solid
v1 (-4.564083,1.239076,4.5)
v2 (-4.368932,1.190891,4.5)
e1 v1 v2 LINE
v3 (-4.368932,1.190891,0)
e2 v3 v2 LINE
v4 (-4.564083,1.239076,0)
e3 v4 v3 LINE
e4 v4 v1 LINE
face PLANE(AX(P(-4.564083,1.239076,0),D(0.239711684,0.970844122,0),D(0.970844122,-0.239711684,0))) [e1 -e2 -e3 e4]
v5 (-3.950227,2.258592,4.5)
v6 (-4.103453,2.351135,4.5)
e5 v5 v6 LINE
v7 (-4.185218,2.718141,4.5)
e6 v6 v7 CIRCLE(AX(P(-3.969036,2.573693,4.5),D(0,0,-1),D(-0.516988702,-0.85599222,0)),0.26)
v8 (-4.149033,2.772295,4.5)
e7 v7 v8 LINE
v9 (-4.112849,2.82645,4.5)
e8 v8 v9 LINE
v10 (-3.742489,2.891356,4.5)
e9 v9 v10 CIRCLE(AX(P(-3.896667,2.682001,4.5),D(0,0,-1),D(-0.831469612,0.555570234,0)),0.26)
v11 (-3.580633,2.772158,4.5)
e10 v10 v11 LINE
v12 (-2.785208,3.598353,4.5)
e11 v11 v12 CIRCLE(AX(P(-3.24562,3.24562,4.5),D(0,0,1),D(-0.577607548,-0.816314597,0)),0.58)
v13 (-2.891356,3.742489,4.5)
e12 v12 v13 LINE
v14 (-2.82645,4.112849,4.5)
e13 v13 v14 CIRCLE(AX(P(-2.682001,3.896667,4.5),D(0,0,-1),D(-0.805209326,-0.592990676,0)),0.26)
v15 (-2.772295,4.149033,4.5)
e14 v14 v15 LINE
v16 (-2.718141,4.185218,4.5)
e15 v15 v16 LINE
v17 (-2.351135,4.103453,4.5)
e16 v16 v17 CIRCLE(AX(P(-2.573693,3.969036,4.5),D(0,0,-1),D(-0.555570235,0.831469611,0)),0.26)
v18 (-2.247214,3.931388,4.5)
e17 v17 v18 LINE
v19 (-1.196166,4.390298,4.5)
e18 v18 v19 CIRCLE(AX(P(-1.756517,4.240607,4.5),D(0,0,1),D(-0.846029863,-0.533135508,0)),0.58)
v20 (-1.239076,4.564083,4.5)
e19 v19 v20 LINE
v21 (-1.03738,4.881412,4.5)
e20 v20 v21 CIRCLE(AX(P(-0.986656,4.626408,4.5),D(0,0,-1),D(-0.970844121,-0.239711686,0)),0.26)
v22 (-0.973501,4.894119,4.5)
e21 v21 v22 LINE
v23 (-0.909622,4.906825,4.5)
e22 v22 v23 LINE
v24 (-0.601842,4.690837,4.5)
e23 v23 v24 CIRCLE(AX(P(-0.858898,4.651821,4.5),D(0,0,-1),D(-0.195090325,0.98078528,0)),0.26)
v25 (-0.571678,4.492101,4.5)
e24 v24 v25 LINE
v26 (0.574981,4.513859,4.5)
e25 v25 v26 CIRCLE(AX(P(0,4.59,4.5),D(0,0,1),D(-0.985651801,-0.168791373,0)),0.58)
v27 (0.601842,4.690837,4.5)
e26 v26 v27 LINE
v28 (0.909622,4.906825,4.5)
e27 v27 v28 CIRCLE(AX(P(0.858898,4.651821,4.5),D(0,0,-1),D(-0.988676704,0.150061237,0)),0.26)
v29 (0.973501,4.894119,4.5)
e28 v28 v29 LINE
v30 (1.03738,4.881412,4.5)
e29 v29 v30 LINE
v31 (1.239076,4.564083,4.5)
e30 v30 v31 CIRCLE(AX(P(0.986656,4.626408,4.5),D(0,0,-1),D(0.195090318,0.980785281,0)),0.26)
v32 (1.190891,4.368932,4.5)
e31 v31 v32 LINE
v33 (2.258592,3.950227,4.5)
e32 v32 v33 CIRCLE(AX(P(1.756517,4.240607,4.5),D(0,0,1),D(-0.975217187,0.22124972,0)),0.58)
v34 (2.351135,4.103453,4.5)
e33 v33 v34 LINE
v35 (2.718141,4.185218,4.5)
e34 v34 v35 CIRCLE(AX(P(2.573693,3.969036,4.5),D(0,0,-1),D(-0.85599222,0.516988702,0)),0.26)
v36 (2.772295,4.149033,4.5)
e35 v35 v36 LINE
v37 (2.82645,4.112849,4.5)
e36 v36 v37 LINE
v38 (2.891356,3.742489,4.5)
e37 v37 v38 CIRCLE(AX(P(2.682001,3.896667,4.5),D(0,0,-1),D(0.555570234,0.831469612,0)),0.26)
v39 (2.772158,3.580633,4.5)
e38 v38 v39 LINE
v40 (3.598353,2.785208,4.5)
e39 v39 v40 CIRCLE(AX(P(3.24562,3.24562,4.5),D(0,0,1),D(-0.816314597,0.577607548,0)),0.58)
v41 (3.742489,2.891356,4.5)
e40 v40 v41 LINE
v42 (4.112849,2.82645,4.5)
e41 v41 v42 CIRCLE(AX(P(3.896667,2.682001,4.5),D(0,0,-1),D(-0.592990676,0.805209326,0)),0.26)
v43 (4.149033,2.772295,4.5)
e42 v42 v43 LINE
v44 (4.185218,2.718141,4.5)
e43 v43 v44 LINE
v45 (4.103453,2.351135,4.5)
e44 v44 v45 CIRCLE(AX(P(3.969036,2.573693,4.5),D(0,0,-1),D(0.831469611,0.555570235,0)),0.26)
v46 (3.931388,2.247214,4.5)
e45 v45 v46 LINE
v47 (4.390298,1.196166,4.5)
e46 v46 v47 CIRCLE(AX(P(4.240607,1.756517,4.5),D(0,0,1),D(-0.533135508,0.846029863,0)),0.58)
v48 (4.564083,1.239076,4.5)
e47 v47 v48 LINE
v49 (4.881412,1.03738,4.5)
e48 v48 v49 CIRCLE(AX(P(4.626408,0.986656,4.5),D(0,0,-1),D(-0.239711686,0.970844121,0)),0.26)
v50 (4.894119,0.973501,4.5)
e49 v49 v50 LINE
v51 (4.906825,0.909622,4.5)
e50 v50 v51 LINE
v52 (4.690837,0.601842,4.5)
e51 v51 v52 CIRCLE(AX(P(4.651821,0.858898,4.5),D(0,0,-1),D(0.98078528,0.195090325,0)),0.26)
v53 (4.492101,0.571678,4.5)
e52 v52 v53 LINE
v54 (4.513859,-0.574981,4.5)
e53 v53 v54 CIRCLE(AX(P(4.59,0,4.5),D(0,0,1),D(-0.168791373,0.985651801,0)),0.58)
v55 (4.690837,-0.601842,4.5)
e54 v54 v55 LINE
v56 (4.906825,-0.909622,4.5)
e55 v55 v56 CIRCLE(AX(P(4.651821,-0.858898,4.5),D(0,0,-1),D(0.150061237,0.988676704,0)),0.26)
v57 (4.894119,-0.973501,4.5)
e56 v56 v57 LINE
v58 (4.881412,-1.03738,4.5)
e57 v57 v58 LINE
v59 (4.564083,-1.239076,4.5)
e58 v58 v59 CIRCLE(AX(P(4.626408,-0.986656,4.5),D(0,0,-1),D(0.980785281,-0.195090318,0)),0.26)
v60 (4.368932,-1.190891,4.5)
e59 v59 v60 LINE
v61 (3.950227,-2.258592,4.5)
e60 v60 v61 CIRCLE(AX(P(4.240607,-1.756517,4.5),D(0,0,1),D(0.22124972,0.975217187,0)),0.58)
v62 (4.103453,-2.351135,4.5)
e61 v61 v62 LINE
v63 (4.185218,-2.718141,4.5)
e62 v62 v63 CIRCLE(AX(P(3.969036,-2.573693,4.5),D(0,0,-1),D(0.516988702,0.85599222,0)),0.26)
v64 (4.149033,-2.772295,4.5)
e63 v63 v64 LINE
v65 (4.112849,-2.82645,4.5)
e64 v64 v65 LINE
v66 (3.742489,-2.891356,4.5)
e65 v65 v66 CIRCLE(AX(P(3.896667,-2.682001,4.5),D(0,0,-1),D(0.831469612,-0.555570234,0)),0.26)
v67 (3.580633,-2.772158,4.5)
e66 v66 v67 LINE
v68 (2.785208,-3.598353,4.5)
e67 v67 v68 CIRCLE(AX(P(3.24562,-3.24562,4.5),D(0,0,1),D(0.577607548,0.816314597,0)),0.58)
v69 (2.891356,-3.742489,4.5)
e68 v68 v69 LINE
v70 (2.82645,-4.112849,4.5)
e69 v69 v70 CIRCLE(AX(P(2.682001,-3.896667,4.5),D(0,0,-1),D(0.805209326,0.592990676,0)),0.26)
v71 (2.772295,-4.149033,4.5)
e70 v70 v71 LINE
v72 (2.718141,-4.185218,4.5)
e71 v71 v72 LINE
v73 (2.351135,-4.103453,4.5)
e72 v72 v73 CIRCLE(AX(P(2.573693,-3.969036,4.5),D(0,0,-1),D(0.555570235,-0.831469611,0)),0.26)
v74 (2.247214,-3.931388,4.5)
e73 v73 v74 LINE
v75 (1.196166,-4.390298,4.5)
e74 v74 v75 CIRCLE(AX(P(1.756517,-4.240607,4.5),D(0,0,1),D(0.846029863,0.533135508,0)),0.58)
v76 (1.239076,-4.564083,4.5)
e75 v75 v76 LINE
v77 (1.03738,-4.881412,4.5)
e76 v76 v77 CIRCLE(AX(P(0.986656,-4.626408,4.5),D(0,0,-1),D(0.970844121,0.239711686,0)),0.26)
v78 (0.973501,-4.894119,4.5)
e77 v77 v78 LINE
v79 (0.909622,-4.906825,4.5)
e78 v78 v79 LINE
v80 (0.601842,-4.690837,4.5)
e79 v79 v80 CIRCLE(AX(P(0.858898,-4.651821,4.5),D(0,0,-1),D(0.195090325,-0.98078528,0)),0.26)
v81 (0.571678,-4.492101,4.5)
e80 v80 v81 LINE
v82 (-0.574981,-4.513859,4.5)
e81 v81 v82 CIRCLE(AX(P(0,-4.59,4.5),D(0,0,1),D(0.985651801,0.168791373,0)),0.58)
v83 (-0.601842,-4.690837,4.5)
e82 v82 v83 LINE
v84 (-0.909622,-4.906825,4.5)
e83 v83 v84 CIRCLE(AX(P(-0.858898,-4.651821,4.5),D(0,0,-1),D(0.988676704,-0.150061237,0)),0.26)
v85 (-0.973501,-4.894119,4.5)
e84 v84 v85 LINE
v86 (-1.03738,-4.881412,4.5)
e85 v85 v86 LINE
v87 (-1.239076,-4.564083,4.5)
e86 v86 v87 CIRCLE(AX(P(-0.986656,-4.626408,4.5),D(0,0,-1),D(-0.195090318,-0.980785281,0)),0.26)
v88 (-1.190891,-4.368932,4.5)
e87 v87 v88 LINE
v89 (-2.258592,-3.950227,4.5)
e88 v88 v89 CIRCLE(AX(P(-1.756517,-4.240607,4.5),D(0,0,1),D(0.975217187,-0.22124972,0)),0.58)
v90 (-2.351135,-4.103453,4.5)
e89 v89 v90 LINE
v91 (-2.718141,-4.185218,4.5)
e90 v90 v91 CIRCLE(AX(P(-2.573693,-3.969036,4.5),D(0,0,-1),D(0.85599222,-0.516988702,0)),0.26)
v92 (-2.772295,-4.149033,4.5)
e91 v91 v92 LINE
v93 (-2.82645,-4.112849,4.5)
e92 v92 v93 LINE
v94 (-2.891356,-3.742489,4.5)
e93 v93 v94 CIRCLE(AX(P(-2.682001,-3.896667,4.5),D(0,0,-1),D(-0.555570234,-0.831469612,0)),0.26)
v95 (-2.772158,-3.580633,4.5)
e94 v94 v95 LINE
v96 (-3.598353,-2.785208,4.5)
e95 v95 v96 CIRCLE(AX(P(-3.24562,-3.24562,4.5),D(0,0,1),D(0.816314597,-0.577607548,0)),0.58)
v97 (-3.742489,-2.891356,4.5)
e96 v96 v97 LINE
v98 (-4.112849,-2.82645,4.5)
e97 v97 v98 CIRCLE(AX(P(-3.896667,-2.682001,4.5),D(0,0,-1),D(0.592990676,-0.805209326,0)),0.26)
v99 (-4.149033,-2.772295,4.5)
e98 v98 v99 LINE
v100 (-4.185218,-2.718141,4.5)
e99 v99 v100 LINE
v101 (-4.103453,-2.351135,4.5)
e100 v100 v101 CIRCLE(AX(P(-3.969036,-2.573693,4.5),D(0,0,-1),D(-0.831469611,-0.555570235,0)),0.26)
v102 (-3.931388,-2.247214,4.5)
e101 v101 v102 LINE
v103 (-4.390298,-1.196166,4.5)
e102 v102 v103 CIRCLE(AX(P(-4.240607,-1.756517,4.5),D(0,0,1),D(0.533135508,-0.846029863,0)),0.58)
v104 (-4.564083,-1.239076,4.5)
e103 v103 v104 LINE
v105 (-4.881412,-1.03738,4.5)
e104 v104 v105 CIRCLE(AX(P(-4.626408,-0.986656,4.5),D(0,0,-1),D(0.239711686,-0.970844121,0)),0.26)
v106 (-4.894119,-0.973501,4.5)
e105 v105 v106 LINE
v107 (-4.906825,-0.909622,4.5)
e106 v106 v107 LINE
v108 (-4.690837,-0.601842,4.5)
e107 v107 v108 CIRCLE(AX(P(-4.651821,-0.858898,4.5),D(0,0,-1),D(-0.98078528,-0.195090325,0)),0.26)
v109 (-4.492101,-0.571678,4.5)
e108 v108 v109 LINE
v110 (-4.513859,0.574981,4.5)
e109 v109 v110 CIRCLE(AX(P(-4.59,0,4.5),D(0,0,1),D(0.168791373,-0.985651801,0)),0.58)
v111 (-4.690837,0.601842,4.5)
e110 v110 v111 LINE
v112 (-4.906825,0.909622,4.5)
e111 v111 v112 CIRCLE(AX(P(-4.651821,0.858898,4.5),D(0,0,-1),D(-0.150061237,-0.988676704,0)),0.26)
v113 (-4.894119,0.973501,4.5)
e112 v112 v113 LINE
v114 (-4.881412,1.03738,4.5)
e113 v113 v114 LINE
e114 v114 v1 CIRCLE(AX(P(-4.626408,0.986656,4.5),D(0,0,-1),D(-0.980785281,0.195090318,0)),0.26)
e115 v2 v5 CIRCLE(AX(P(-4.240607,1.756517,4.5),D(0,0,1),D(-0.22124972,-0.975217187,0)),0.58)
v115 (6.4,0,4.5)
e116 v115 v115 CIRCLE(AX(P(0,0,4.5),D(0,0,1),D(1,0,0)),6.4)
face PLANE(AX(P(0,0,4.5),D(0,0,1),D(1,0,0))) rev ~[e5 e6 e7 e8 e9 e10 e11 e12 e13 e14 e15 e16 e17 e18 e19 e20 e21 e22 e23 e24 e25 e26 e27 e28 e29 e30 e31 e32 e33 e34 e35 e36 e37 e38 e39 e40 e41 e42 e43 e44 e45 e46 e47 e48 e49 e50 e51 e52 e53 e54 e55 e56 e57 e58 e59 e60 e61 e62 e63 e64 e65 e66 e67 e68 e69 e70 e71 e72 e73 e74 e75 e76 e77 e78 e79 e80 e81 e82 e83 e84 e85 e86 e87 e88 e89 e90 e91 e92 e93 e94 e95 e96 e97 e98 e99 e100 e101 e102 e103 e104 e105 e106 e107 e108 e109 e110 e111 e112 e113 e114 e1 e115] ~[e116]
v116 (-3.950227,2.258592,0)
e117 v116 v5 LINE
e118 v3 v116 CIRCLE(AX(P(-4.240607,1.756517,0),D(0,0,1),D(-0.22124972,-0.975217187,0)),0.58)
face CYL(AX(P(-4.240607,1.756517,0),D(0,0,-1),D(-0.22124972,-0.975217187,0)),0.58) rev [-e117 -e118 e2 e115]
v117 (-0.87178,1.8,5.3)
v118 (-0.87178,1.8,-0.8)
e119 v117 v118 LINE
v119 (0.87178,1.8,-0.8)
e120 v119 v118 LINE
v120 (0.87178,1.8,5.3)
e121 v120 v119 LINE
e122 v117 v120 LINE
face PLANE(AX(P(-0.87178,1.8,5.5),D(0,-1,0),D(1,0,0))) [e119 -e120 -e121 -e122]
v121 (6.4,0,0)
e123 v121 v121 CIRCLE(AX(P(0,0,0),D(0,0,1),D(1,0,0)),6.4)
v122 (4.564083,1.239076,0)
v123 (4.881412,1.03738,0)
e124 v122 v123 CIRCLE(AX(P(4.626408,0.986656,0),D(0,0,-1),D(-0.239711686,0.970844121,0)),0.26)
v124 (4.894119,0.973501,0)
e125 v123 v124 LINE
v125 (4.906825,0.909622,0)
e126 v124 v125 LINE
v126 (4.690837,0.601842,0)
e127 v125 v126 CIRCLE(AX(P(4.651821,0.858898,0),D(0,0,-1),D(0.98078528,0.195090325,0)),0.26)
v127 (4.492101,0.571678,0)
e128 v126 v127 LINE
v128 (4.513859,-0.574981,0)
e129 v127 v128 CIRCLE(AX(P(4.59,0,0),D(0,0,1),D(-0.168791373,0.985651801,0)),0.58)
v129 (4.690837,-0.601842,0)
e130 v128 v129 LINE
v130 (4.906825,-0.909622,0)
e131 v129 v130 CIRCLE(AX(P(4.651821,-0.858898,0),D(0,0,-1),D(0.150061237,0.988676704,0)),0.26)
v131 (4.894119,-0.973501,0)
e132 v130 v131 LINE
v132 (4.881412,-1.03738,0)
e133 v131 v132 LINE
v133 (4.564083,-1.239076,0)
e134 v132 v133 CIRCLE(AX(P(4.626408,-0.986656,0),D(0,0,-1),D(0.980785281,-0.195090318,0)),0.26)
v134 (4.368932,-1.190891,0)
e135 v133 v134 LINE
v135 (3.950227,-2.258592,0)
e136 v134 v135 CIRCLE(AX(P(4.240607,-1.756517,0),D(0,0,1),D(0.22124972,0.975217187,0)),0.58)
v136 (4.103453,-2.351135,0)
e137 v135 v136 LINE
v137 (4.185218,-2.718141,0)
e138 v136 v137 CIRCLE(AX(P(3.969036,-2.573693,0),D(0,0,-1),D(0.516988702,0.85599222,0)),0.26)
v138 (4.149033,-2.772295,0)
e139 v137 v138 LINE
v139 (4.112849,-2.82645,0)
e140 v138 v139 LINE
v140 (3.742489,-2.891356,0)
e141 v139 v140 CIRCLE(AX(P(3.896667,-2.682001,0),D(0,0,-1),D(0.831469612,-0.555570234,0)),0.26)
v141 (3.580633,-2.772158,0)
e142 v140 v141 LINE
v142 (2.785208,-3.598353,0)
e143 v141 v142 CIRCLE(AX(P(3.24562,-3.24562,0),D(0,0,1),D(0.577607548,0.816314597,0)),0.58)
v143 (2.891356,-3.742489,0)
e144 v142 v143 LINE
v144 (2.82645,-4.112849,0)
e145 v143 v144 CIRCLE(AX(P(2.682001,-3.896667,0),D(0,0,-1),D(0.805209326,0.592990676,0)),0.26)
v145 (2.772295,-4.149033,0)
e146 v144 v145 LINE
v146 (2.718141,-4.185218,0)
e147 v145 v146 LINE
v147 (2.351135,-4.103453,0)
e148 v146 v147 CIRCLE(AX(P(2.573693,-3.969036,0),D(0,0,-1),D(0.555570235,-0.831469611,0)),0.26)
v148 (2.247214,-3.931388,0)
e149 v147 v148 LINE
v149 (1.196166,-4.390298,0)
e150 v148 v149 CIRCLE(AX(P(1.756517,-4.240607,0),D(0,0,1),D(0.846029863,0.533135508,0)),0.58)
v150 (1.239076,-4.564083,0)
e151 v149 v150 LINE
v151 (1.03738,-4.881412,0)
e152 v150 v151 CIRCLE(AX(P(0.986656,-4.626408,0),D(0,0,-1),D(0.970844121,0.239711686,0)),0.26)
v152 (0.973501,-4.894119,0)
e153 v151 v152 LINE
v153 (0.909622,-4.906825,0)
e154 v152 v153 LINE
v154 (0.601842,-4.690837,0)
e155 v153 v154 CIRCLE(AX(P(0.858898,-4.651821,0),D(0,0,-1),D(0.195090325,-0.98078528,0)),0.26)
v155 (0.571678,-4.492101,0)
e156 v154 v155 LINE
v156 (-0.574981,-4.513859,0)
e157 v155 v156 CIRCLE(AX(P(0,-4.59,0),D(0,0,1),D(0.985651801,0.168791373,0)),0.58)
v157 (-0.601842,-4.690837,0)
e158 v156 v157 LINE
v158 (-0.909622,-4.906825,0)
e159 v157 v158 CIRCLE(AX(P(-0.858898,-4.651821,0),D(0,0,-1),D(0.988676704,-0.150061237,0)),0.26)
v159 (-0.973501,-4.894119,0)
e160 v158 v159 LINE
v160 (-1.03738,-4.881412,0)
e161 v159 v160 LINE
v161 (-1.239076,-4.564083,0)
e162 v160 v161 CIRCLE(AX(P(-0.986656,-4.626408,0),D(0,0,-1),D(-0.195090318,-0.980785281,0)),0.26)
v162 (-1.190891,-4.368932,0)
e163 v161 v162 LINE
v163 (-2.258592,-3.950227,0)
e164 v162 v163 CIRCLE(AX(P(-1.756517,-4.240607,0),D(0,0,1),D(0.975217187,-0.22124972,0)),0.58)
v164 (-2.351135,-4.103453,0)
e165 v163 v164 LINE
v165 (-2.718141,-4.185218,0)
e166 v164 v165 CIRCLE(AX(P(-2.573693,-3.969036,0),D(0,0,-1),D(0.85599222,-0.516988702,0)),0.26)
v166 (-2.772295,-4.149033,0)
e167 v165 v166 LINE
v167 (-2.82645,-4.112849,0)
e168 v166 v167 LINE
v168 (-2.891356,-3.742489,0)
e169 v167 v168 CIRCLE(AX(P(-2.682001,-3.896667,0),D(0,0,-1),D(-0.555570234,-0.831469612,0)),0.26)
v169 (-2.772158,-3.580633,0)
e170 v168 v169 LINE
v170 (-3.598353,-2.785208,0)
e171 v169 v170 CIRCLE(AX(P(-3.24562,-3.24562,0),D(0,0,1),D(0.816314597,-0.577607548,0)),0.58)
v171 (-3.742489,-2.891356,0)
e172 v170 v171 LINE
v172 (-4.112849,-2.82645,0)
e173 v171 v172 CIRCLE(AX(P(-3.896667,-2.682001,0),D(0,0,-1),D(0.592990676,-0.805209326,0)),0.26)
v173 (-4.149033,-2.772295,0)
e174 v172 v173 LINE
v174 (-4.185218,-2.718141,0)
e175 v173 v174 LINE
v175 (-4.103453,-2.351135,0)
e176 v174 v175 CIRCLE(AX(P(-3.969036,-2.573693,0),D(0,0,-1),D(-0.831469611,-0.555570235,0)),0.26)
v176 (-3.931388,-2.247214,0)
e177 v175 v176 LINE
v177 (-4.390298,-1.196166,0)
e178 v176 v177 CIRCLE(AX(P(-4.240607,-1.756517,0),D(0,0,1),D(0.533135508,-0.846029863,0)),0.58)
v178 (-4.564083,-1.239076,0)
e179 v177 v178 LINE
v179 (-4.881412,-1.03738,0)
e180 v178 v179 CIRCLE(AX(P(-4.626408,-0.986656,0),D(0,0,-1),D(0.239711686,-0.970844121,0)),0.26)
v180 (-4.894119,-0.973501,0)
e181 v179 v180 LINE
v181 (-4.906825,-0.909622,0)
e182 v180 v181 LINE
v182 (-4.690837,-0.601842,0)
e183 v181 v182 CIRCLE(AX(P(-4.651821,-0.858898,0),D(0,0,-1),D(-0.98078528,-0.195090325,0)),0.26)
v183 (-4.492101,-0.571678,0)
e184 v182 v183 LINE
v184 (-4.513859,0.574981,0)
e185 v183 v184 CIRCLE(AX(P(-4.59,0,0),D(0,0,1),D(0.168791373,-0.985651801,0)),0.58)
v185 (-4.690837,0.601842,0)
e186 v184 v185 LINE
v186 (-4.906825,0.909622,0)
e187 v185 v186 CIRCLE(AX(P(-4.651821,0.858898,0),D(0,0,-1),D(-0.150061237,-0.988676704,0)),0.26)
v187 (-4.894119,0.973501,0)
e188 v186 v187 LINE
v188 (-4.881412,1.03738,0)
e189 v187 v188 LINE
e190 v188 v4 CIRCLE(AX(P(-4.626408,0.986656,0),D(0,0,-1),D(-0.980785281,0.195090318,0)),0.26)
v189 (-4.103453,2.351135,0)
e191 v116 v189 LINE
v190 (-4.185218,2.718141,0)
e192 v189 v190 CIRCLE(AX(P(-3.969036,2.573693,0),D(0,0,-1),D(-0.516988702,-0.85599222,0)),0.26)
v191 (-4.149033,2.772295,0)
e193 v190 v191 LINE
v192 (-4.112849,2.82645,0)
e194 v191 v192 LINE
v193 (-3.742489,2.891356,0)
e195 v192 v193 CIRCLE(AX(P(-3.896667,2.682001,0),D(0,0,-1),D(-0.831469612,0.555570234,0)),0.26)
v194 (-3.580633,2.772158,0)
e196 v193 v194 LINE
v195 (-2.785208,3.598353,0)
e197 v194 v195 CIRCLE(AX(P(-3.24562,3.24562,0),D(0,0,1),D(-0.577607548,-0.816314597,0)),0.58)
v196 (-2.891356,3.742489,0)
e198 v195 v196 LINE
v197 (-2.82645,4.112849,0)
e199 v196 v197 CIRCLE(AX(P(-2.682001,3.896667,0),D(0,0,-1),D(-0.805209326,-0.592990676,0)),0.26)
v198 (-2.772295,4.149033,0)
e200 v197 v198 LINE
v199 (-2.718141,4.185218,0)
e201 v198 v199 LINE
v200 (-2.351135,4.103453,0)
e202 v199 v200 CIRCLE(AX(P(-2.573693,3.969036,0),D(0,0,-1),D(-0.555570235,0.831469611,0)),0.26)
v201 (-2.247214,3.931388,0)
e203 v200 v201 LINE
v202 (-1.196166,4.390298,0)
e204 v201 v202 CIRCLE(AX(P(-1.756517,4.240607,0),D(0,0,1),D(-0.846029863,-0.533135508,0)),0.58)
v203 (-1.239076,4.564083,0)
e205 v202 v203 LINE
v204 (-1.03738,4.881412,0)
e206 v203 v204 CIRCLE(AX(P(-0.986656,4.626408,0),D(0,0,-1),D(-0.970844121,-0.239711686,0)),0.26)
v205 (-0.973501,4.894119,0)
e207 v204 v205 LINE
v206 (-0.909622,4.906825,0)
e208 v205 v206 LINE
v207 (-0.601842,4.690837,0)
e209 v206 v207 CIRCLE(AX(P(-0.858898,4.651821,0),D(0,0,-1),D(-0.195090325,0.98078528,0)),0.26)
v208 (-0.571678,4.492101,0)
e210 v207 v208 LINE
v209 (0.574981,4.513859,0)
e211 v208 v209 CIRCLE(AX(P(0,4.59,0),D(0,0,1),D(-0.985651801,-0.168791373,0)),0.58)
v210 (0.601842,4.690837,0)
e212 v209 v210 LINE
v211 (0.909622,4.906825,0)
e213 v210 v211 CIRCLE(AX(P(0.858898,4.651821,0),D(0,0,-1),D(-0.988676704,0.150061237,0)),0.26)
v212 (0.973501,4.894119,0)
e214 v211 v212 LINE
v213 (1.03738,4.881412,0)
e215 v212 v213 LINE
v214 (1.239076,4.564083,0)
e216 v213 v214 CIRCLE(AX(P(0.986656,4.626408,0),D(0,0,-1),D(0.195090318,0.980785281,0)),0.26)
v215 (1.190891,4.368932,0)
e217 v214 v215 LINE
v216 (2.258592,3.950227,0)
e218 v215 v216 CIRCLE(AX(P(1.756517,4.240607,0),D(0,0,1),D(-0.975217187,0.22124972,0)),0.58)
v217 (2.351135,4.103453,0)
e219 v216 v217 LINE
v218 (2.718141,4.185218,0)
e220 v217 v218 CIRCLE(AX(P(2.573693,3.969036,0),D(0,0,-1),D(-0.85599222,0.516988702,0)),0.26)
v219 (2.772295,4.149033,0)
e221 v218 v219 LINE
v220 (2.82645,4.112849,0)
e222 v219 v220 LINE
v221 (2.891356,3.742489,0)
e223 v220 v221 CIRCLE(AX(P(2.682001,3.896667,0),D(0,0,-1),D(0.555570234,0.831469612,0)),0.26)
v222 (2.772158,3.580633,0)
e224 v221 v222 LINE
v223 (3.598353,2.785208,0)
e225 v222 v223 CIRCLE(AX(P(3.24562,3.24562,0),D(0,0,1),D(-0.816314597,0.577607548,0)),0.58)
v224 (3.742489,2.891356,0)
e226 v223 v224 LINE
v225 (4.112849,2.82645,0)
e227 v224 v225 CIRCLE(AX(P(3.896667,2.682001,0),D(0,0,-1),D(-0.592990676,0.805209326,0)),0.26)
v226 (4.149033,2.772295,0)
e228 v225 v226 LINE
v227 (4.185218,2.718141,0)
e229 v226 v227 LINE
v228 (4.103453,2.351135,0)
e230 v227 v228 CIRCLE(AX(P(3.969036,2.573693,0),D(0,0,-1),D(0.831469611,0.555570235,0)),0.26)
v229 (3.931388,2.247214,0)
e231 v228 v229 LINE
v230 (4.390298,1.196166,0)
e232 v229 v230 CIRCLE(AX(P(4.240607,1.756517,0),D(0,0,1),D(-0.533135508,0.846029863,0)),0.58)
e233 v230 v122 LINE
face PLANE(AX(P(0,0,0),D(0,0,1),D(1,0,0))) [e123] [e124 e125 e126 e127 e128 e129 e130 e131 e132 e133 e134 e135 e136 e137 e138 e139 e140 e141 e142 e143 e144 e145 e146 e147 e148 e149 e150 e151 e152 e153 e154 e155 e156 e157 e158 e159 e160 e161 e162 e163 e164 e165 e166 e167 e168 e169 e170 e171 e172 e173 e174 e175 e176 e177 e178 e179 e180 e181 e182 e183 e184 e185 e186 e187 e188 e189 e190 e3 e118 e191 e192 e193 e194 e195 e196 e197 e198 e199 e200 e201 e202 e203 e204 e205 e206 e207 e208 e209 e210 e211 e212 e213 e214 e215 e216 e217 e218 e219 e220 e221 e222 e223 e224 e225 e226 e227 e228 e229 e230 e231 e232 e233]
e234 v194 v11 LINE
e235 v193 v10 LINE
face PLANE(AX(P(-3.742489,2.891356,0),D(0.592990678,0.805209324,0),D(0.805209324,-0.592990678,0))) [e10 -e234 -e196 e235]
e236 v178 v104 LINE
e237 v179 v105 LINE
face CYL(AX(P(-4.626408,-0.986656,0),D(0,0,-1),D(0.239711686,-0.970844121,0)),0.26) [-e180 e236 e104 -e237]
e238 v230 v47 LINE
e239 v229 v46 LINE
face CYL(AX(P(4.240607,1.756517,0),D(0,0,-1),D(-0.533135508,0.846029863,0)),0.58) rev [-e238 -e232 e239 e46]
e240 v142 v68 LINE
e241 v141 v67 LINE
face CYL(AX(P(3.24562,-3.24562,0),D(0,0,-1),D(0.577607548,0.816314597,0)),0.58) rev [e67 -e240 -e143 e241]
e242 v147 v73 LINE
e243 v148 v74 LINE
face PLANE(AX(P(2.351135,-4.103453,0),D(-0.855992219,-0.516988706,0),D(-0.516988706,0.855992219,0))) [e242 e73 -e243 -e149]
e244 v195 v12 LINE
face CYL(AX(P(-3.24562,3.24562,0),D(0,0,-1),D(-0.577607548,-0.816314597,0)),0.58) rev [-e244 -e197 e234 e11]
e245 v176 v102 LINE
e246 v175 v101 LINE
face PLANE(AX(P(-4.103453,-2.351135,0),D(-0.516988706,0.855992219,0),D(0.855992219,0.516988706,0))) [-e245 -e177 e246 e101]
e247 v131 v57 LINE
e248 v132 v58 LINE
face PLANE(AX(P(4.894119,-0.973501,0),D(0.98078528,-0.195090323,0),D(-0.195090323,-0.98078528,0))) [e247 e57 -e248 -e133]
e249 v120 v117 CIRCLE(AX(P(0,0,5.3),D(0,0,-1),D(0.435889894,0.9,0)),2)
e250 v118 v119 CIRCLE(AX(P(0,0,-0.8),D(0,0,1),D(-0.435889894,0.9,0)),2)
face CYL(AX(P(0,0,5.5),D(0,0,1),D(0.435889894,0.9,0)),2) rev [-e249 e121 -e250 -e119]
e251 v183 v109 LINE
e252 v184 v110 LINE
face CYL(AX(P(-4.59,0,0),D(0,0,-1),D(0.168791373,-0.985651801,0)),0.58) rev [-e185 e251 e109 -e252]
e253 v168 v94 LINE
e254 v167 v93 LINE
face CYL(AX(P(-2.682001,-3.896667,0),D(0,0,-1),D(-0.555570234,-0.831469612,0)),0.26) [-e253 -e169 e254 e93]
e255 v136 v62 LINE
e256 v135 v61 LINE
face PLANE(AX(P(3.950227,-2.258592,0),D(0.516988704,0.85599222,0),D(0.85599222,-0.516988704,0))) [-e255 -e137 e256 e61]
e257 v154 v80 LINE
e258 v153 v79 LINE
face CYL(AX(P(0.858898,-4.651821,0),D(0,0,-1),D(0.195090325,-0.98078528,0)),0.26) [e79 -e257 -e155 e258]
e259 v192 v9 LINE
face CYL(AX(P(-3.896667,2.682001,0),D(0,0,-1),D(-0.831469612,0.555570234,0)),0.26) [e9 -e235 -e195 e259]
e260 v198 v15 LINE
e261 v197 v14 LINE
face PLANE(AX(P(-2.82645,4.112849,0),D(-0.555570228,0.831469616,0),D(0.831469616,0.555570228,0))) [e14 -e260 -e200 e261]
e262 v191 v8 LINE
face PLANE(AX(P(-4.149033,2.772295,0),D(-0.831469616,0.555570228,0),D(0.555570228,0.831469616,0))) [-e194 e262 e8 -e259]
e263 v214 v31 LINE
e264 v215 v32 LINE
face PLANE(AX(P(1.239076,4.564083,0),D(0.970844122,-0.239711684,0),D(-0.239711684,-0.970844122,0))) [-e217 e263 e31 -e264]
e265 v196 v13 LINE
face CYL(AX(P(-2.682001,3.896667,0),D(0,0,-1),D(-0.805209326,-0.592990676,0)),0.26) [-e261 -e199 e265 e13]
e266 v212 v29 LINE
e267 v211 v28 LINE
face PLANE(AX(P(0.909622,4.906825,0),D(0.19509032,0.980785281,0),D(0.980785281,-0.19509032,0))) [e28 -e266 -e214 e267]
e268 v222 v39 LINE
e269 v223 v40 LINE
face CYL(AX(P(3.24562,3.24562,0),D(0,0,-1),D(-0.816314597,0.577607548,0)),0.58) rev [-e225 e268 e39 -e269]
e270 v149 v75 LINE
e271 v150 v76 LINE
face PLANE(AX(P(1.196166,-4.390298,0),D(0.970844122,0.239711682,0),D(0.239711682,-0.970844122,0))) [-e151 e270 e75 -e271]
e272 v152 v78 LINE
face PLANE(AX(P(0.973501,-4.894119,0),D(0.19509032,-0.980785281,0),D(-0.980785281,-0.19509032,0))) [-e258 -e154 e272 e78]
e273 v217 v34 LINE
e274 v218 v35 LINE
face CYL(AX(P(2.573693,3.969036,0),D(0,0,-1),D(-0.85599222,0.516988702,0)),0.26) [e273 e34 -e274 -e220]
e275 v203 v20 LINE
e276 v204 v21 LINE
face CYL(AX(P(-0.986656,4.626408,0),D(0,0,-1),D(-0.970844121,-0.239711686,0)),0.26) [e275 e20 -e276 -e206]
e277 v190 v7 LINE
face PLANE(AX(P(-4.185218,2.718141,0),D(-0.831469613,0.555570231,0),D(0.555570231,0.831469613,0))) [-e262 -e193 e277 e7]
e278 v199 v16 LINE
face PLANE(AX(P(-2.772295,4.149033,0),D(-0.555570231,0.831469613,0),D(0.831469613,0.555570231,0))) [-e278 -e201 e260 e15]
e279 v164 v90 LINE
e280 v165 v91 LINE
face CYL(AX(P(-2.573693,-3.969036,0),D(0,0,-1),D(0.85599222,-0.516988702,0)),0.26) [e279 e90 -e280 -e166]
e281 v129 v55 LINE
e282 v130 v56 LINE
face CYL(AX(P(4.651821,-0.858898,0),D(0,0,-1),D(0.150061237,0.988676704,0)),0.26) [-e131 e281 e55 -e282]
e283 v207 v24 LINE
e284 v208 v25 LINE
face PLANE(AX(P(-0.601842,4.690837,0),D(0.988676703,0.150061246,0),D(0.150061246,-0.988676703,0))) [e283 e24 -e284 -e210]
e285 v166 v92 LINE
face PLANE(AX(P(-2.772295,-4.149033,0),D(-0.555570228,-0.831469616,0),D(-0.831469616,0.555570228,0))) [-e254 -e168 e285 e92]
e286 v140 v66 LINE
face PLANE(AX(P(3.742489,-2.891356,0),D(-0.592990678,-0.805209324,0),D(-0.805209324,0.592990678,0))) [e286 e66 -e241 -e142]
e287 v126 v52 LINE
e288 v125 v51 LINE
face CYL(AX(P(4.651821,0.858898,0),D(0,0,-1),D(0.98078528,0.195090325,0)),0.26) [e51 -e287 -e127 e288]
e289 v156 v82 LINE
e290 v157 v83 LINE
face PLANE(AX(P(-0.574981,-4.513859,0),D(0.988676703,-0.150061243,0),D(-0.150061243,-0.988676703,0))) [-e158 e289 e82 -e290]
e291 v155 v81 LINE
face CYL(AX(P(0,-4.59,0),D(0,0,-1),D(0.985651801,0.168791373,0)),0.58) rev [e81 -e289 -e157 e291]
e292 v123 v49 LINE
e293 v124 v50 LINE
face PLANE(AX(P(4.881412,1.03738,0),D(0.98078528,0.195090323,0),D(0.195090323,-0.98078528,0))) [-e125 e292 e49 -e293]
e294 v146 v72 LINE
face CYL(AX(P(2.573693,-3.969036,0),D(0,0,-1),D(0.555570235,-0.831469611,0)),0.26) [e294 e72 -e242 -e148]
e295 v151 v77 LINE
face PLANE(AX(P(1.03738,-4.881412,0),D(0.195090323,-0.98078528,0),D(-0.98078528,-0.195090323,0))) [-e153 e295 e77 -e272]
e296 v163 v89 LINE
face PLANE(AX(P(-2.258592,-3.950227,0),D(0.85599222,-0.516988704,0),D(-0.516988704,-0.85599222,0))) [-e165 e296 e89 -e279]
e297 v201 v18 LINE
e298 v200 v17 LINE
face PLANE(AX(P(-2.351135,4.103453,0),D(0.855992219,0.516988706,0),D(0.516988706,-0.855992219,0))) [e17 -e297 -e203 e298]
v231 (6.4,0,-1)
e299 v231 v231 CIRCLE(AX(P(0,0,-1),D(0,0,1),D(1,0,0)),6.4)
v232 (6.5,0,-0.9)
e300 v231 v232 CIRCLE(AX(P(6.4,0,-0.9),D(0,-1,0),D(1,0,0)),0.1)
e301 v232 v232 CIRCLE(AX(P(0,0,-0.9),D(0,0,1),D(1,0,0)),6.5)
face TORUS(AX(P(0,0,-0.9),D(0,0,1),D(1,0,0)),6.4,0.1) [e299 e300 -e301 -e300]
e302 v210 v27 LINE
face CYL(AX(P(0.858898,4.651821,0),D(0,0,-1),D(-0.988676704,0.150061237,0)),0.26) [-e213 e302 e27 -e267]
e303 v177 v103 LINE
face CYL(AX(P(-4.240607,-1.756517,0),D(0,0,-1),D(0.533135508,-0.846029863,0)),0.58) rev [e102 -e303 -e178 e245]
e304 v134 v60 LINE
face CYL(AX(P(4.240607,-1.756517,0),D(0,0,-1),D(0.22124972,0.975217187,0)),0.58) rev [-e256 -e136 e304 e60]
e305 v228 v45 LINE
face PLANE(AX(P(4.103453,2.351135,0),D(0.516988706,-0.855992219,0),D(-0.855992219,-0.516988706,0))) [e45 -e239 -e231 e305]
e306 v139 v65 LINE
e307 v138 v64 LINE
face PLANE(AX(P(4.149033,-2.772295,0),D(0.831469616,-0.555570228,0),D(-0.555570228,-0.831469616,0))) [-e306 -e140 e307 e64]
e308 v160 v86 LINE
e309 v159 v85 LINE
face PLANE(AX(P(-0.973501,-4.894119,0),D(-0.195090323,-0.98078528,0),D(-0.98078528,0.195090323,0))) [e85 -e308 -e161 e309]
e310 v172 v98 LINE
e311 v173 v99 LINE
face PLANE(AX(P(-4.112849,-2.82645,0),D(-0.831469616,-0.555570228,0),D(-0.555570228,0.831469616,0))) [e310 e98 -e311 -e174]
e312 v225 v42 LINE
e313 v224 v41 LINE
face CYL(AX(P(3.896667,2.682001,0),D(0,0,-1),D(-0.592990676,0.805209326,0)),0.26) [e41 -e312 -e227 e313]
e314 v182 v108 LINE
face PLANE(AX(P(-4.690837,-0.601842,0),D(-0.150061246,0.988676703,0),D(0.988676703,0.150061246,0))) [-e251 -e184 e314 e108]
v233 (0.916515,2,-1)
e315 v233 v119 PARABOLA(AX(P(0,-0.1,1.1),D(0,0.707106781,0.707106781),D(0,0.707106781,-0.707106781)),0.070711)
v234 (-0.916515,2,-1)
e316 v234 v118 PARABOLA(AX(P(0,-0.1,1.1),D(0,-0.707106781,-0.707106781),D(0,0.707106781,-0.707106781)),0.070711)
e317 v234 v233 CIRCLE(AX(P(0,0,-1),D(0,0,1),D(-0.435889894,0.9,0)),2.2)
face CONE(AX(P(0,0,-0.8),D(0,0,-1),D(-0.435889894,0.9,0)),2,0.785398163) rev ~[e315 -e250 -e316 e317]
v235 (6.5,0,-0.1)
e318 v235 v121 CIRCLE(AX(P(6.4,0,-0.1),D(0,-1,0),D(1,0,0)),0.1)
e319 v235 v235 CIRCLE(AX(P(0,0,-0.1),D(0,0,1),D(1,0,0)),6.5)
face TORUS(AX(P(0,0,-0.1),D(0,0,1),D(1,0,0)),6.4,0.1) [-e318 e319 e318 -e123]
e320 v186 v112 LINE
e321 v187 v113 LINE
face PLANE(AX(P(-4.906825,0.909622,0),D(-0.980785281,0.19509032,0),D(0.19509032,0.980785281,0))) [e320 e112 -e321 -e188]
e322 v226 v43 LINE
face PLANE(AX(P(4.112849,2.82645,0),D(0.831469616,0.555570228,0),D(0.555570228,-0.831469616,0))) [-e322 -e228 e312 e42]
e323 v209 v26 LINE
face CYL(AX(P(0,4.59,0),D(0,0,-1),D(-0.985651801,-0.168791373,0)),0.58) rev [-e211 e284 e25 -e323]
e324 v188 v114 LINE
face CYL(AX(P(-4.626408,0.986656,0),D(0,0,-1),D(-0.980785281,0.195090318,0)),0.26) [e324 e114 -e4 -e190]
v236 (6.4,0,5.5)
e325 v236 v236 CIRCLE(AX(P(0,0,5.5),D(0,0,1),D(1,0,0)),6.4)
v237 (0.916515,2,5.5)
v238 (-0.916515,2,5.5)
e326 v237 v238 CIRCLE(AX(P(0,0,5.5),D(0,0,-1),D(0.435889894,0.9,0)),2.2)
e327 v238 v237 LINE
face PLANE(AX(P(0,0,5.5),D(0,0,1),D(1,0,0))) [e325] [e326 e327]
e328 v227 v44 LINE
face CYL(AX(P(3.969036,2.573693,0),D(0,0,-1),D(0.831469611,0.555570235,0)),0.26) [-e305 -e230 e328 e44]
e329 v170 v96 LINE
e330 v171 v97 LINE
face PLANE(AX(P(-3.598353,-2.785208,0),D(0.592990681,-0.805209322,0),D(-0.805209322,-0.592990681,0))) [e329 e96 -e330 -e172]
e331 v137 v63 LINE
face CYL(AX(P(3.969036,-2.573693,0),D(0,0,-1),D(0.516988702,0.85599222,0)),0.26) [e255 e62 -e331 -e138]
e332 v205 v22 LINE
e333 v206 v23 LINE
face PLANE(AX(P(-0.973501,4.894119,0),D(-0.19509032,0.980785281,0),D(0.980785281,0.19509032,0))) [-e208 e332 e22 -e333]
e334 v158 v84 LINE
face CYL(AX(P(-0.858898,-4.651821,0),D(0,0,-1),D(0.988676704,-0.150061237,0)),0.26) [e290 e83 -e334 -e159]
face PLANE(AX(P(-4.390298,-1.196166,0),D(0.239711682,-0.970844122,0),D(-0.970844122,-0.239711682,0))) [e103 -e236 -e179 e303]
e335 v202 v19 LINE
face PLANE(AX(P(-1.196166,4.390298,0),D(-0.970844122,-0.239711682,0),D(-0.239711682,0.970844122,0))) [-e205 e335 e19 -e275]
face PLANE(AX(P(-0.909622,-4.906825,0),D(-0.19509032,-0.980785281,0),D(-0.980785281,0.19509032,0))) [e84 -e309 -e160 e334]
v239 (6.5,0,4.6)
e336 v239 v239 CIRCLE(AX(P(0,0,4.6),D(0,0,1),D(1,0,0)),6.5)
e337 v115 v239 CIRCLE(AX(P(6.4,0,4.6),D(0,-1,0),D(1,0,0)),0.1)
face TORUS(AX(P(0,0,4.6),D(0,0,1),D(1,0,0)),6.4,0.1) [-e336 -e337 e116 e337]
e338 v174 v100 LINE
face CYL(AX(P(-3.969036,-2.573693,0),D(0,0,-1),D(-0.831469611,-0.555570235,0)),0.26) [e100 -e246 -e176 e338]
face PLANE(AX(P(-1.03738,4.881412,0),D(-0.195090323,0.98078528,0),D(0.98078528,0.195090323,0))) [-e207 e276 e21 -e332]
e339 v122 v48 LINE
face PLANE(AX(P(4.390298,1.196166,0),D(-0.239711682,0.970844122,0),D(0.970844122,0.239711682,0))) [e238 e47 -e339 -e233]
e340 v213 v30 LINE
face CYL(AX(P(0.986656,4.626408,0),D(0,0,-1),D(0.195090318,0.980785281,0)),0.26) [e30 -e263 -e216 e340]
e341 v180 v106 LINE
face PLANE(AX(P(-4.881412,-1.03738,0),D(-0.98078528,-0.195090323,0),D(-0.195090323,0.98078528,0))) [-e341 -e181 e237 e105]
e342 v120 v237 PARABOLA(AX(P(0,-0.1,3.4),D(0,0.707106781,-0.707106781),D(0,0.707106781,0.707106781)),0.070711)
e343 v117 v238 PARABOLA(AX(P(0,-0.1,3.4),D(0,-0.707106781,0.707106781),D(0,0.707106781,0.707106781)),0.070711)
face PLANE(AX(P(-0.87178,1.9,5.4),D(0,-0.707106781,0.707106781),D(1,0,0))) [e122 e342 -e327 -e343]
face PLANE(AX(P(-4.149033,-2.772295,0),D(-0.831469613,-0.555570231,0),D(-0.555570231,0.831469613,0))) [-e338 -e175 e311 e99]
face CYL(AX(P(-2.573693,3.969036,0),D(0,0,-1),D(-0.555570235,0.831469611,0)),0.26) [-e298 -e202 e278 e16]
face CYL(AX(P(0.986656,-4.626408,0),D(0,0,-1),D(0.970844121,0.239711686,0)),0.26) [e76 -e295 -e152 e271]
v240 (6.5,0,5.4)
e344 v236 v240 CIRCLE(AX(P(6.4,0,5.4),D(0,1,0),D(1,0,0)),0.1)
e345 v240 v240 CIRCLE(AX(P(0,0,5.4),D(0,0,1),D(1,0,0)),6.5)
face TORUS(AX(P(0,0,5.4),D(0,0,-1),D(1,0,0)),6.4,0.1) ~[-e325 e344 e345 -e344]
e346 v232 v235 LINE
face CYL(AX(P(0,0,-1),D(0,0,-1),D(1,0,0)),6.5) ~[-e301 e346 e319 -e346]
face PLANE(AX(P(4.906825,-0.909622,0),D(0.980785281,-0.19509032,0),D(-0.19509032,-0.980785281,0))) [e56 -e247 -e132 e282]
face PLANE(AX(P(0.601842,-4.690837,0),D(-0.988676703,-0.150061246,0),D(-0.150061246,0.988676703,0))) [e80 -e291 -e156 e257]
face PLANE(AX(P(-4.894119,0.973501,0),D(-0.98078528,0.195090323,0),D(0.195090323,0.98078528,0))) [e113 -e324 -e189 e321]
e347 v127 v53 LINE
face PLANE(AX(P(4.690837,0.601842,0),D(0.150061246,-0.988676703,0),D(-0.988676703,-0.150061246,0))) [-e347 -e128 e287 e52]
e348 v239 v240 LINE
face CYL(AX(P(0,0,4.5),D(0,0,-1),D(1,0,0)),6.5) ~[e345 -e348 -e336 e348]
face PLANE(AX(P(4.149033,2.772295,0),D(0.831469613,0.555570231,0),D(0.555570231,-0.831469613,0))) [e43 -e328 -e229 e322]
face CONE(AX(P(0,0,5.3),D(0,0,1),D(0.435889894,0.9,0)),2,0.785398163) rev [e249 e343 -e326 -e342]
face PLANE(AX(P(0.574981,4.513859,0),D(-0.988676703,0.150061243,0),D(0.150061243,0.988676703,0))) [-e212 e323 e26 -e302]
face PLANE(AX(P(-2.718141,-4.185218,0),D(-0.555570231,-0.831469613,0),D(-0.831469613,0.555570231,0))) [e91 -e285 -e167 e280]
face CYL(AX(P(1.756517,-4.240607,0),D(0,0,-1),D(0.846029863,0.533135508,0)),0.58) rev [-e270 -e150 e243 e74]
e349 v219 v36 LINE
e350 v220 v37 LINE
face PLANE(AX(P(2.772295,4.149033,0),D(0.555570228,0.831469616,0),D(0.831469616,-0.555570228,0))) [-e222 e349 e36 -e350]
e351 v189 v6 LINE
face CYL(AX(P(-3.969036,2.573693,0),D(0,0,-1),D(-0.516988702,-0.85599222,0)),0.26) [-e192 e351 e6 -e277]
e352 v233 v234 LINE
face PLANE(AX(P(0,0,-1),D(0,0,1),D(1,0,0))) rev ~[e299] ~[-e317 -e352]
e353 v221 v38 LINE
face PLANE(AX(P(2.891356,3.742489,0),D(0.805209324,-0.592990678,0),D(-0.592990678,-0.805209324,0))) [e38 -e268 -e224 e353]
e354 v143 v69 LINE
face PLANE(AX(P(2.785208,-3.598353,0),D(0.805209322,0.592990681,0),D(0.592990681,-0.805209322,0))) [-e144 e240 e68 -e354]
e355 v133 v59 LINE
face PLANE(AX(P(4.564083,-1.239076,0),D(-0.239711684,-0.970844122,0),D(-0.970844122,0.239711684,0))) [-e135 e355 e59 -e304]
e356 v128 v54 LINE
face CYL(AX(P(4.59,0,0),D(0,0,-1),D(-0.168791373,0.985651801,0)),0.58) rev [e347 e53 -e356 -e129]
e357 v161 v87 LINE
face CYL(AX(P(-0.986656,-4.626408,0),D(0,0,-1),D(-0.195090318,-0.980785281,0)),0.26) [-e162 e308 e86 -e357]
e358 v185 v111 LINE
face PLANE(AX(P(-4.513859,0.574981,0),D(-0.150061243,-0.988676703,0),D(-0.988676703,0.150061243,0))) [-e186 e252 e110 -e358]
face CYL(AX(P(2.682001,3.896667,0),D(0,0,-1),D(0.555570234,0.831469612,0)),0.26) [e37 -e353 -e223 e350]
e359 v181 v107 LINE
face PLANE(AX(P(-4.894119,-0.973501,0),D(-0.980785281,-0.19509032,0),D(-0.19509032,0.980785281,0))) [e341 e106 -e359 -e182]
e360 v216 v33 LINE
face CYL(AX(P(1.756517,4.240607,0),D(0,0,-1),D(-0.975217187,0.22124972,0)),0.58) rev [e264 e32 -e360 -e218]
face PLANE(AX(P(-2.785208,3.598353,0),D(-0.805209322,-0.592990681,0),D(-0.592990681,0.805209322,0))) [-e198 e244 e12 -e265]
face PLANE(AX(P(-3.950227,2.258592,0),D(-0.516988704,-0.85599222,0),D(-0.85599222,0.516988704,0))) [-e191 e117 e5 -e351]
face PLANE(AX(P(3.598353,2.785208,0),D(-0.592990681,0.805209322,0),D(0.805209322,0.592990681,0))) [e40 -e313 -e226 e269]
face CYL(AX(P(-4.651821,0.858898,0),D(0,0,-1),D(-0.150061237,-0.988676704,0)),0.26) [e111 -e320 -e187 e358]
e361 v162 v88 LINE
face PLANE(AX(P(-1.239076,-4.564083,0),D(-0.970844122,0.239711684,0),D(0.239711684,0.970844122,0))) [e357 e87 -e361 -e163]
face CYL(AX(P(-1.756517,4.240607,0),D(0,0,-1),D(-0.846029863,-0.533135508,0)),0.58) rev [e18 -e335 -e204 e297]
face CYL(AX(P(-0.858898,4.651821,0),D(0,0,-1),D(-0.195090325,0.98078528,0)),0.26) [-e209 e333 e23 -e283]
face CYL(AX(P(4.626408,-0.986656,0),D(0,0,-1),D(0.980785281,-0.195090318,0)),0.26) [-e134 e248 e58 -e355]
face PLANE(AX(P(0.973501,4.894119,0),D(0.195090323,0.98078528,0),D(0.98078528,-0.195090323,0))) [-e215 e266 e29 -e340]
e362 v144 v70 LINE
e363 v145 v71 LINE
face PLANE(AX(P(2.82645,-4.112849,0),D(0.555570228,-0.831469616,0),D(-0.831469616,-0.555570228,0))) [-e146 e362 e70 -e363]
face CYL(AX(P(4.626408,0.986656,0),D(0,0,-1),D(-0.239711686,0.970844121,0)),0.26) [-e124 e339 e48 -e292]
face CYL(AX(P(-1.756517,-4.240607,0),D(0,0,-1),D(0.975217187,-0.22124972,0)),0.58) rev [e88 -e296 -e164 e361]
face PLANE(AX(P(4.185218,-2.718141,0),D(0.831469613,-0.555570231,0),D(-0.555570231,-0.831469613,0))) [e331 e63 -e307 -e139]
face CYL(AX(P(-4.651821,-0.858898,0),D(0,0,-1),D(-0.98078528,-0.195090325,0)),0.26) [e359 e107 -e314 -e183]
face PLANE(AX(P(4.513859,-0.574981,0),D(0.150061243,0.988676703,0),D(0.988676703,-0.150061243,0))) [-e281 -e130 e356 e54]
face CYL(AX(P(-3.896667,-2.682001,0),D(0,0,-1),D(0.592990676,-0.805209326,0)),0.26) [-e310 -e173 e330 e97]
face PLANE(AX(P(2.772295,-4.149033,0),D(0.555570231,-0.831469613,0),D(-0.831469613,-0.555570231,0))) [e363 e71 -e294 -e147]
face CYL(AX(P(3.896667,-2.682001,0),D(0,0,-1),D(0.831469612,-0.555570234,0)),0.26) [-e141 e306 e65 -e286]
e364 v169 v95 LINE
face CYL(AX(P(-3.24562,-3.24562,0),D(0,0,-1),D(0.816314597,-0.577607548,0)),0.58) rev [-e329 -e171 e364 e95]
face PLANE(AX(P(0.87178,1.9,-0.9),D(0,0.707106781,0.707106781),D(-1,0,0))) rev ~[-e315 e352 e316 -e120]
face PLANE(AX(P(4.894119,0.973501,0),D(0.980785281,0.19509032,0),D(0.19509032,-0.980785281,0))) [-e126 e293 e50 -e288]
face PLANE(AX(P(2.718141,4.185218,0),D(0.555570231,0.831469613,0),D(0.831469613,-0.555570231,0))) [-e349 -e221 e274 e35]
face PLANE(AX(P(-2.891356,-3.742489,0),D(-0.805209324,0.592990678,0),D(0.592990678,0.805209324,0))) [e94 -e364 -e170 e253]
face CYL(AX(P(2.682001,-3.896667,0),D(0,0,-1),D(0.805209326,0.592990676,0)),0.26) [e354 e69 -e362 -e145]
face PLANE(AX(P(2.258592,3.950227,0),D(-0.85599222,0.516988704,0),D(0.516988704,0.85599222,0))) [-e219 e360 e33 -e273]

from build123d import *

# Parameters (mm, degrees)
EXTRUDE_3_DEPTH     = 4.5
SKETCH_5_R          = 6.5
EXTRUDE_4_DEPTH     = 1
EXTRUDE_START       = -5.5
SKETCH_5_2_R        = 6.5
EXTRUDE_6_DEPTH     = 1
CUT_EXTRUDE_1_REACH = 13.258
CHAMFER_1_SIZE      = 0.2
FILLET_1_R          = 0.1


with BuildPart() as part:
    # 草图1 → 凸台-拉伸3 (new body)
    with BuildSketch(Plane.XY):
        with BuildLine():
            Line((0.973500707, 4.894118549), (1.037379867, 4.881412194))
            ThreePointArc((1.037379867, 4.881412194), (1.206083752, 4.765877122), (1.239075855, 4.564082984))
            Line((1.239075855, 4.564082984), (1.190890986, 4.368931892))
            ThreePointArc((1.190890986, 4.368931892), (1.544766642, 3.700642421), (2.258591893, 3.950226689))
            Line((2.258591893, 3.950226689), (2.351135088, 4.103452967))
            ThreePointArc((2.351135088, 4.103452967), (2.517154032, 4.222814031), (2.718141325, 4.185218003))
            Line((2.718141325, 4.185218003), (2.772295463, 4.149033365))
            Line((2.772295463, 4.149033365), (2.8264496, 4.112848728))
            ThreePointArc((2.8264496, 4.112848728), (2.938098308, 3.941548058), (2.891355764, 3.742489052))
            Line((2.891355764, 3.742489052), (2.77215766, 3.580632503))
            ThreePointArc((2.77215766, 3.580632503), (2.843352827, 2.827791189), (3.59835313, 2.785207889))
            Line((3.59835313, 2.785207889), (3.742489052, 2.891355764))
            ThreePointArc((3.742489052, 2.891355764), (3.941548058, 2.938098308), (4.112848728, 2.8264496))
            Line((4.112848728, 2.8264496), (4.149033365, 2.772295463))
            Line((4.149033365, 2.772295463), (4.185218003, 2.718141325))
            ThreePointArc((4.185218003, 2.718141325), (4.222814031, 2.517154032), (4.103452967, 2.351135088))
            Line((4.103452967, 2.351135088), (3.931388459, 2.247214275))
            ThreePointArc((3.931388459, 2.247214275), (3.709064318, 1.524434383), (4.390297723, 1.196166436))
            Line((4.390297723, 1.196166436), (4.564082984, 1.239075855))
            ThreePointArc((4.564082984, 1.239075855), (4.765877122, 1.206083752), (4.881412194, 1.037379867))
            Line((4.881412194, 1.037379867), (4.894118549, 0.973500707))
            Line((4.894118549, 0.973500707), (4.906824904, 0.909621546))
            ThreePointArc((4.906824904, 0.909621546), (4.864644598, 0.709546123), (4.690836654, 0.60184212))
            Line((4.690836654, 0.60184212), (4.492101004, 0.571678044))
            ThreePointArc((4.492101004, 0.571678044), (4.010104391, -0.011003739), (4.513859285, -0.574980514))
            Line((4.513859285, -0.574980514), (4.690836654, -0.60184212))
            ThreePointArc((4.690836654, -0.60184212), (4.864644598, -0.709546123), (4.906824904, -0.909621546))
            Line((4.906824904, -0.909621546), (4.894118549, -0.973500707))
            Line((4.894118549, -0.973500707), (4.881412194, -1.037379867))
            ThreePointArc((4.881412194, -1.037379867), (4.765877122, -1.206083752), (4.564082984, -1.239075855))
            Line((4.564082984, -1.239075855), (4.368931892, -1.190890986))
            ThreePointArc((4.368931892, -1.190890986), (3.700642421, -1.544766642), (3.950226689, -2.258591893))
            Line((3.950226689, -2.258591893), (4.103452967, -2.351135088))
            ThreePointArc((4.103452967, -2.351135088), (4.222814031, -2.517154032), (4.185218003, -2.718141325))
            Line((4.185218003, -2.718141325), (4.149033365, -2.772295463))
            Line((4.149033365, -2.772295463), (4.112848728, -2.8264496))
            ThreePointArc((4.112848728, -2.8264496), (3.941548058, -2.938098308), (3.742489052, -2.891355764))
            Line((3.742489052, -2.891355764), (3.580632503, -2.77215766))
            ThreePointArc((3.580632503, -2.77215766), (2.827791189, -2.843352827), (2.785207889, -3.59835313))
            Line((2.785207889, -3.59835313), (2.891355764, -3.742489052))
            ThreePointArc((2.891355764, -3.742489052), (2.938098308, -3.941548058), (2.8264496, -4.112848728))
            Line((2.8264496, -4.112848728), (2.772295463, -4.149033365))
            Line((2.772295463, -4.149033365), (2.718141325, -4.185218003))
            ThreePointArc((2.718141325, -4.185218003), (2.517154032, -4.222814031), (2.351135088, -4.103452967))
            Line((2.351135088, -4.103452967), (2.247214275, -3.931388459))
            ThreePointArc((2.247214275, -3.931388459), (1.524434383, -3.709064318), (1.196166436, -4.390297723))
            Line((1.196166436, -4.390297723), (1.239075855, -4.564082984))
            ThreePointArc((1.239075855, -4.564082984), (1.206083752, -4.765877122), (1.037379867, -4.881412194))
            Line((1.037379867, -4.881412194), (0.973500707, -4.894118549))
            Line((0.973500707, -4.894118549), (0.909621546, -4.906824904))
            ThreePointArc((0.909621546, -4.906824904), (0.709546123, -4.864644598), (0.60184212, -4.690836654))
            Line((0.60184212, -4.690836654), (0.571678044, -4.492101004))
            ThreePointArc((0.571678044, -4.492101004), (-0.011003739, -4.010104391), (-0.574980514, -4.513859285))
            Line((-0.574980514, -4.513859285), (-0.60184212, -4.690836654))
            ThreePointArc((-0.60184212, -4.690836654), (-0.709546123, -4.864644598), (-0.909621546, -4.906824904))
            Line((-0.909621546, -4.906824904), (-0.973500707, -4.894118549))
            Line((-0.973500707, -4.894118549), (-1.037379867, -4.881412194))
            ThreePointArc((-1.037379867, -4.881412194), (-1.206083752, -4.765877122), (-1.239075855, -4.564082984))
            Line((-1.239075855, -4.564082984), (-1.190890986, -4.368931892))
            ThreePointArc((-1.190890986, -4.368931892), (-1.544766642, -3.700642421), (-2.258591893, -3.950226689))
            Line((-2.258591893, -3.950226689), (-2.351135088, -4.103452967))
            ThreePointArc((-2.351135088, -4.103452967), (-2.517154032, -4.222814031), (-2.718141325, -4.185218003))
            Line((-2.718141325, -4.185218003), (-2.772295463, -4.149033365))
            Line((-2.772295463, -4.149033365), (-2.8264496, -4.112848728))
            ThreePointArc((-2.8264496, -4.112848728), (-2.938098308, -3.941548058), (-2.891355764, -3.742489052))
            Line((-2.891355764, -3.742489052), (-2.77215766, -3.580632503))
            ThreePointArc((-2.77215766, -3.580632503), (-2.843352827, -2.827791189), (-3.59835313, -2.785207889))
            Line((-3.59835313, -2.785207889), (-3.742489052, -2.891355764))
            ThreePointArc((-3.742489052, -2.891355764), (-3.941548058, -2.938098308), (-4.112848728, -2.8264496))
            Line((-4.112848728, -2.8264496), (-4.149033365, -2.772295463))
            Line((-4.149033365, -2.772295463), (-4.185218003, -2.718141325))
            ThreePointArc((-4.185218003, -2.718141325), (-4.222814031, -2.517154032), (-4.103452967, -2.351135088))
            Line((-4.103452967, -2.351135088), (-3.931388459, -2.247214275))
            ThreePointArc((-3.931388459, -2.247214275), (-3.709064318, -1.524434383), (-4.390297723, -1.196166436))
            Line((-4.390297723, -1.196166436), (-4.564082984, -1.239075855))
            ThreePointArc((-4.564082984, -1.239075855), (-4.765877122, -1.206083752), (-4.881412194, -1.037379867))
            Line((-4.881412194, -1.037379867), (-4.894118549, -0.973500707))
            Line((-4.894118549, -0.973500707), (-4.906824904, -0.909621546))
            ThreePointArc((-4.906824904, -0.909621546), (-4.864644598, -0.709546123), (-4.690836654, -0.60184212))
            Line((-4.690836654, -0.60184212), (-4.492101004, -0.571678044))
            ThreePointArc((-4.492101004, -0.571678044), (-4.010104391, 0.011003739), (-4.513859285, 0.574980514))
            Line((-4.513859285, 0.574980514), (-4.690836654, 0.60184212))
            ThreePointArc((-4.690836654, 0.60184212), (-4.864644598, 0.709546123), (-4.906824904, 0.909621546))
            Line((-4.906824904, 0.909621546), (-4.894118549, 0.973500707))
            Line((-4.894118549, 0.973500707), (-4.881412194, 1.037379867))
            ThreePointArc((-4.881412194, 1.037379867), (-4.765877122, 1.206083752), (-4.564082984, 1.239075855))
            Line((-4.564082984, 1.239075855), (-4.368931892, 1.190890986))
            ThreePointArc((-4.368931892, 1.190890986), (-3.700642421, 1.544766642), (-3.950226689, 2.258591893))
            Line((-3.950226689, 2.258591893), (-4.103452967, 2.351135088))
            ThreePointArc((-4.103452967, 2.351135088), (-4.222814031, 2.517154032), (-4.185218003, 2.718141325))
            Line((-4.185218003, 2.718141325), (-4.149033365, 2.772295463))
            Line((-4.149033365, 2.772295463), (-4.112848728, 2.8264496))
            ThreePointArc((-4.112848728, 2.8264496), (-3.941548058, 2.938098308), (-3.742489052, 2.891355764))
            Line((-3.742489052, 2.891355764), (-3.580632503, 2.77215766))
            ThreePointArc((-3.580632503, 2.77215766), (-2.827791189, 2.843352827), (-2.785207889, 3.59835313))
            Line((-2.785207889, 3.59835313), (-2.891355764, 3.742489052))
            ThreePointArc((-2.891355764, 3.742489052), (-2.938098308, 3.941548058), (-2.8264496, 4.112848728))
            Line((-2.8264496, 4.112848728), (-2.772295463, 4.149033365))
            Line((-2.772295463, 4.149033365), (-2.718141325, 4.185218003))
            ThreePointArc((-2.718141325, 4.185218003), (-2.517154032, 4.222814031), (-2.351135088, 4.103452967))
            Line((-2.351135088, 4.103452967), (-2.247214275, 3.931388459))
            ThreePointArc((-2.247214275, 3.931388459), (-1.524434383, 3.709064318), (-1.196166436, 4.390297723))
            Line((-1.196166436, 4.390297723), (-1.239075855, 4.564082984))
            ThreePointArc((-1.239075855, 4.564082984), (-1.206083752, 4.765877122), (-1.037379867, 4.881412194))
            Line((-1.037379867, 4.881412194), (-0.973500707, 4.894118549))
            Line((-0.973500707, 4.894118549), (-0.909621546, 4.906824904))
            ThreePointArc((-0.909621546, 4.906824904), (-0.709546123, 4.864644598), (-0.60184212, 4.690836654))
            Line((-0.60184212, 4.690836654), (-0.571678044, 4.492101004))
            ThreePointArc((-0.571678044, 4.492101004), (0.011003739, 4.010104391), (0.574980514, 4.513859285))
            Line((0.574980514, 4.513859285), (0.60184212, 4.690836654))
            ThreePointArc((0.60184212, 4.690836654), (0.709546123, 4.864644598), (0.909621546, 4.906824904))
            Line((0.909621546, 4.906824904), (0.973500707, 4.894118549))
        make_face()
    extrude(amount=EXTRUDE_3_DEPTH)

    # 草图5 → 凸台-拉伸4 (add)
    with BuildSketch(Plane.XY.offset(4.5)):
        Circle(SKETCH_5_R)
    extrude(amount=EXTRUDE_4_DEPTH)

    # 草图5<2> → 凸台-拉伸6 (add)
    with BuildSketch(Plane.XY.offset(4.5).offset(EXTRUDE_START)):
        Circle(SKETCH_5_2_R)
    extrude(amount=EXTRUDE_6_DEPTH)

    # 草图6 → 切除-拉伸1 (cut, up to next)
    with BuildSketch(Plane.XY.offset(5.5), mode=Mode.PRIVATE) as cut_extrude_1_sk1:
        with BuildLine():
            Line((-0.871779789, 1.8), (0.871779789, 1.8))
            ThreePointArc((0.871779789, 1.8), (0, -2), (-0.871779789, 1.8))
        make_face()
    cut_extrude_1_tool1 = extrude(cut_extrude_1_sk1.sketch, amount=-CUT_EXTRUDE_1_REACH, mode=Mode.PRIVATE) & part.part
    add(cut_extrude_1_tool1.solids().sort_by_distance((0, -0.035819, 5.5))[0], mode=Mode.SUBTRACT)

    # 倒角1
    chamfer_1_edges = [part.edges().sort_by_distance(p)[0] for p in [
        (0, -2, 5.5),
        (0, 1.8, 5.5),
        (0, 1.8, -1),
        (0, -2, -1),
    ]]
    chamfer(chamfer_1_edges, length=CHAMFER_1_SIZE)

    # 圆角1
    fillet_1_edges = [part.edges().sort_by_distance(p)[0] for p in [
        (-6.5, 0, 4.5),
        (-6.5, 0, 5.5),
        (-6.5, 0, 0),
        (-6.5, 0, -1),
    ]]
    fillet(fillet_1_edges, radius=FILLET_1_R)


solid = part.part
